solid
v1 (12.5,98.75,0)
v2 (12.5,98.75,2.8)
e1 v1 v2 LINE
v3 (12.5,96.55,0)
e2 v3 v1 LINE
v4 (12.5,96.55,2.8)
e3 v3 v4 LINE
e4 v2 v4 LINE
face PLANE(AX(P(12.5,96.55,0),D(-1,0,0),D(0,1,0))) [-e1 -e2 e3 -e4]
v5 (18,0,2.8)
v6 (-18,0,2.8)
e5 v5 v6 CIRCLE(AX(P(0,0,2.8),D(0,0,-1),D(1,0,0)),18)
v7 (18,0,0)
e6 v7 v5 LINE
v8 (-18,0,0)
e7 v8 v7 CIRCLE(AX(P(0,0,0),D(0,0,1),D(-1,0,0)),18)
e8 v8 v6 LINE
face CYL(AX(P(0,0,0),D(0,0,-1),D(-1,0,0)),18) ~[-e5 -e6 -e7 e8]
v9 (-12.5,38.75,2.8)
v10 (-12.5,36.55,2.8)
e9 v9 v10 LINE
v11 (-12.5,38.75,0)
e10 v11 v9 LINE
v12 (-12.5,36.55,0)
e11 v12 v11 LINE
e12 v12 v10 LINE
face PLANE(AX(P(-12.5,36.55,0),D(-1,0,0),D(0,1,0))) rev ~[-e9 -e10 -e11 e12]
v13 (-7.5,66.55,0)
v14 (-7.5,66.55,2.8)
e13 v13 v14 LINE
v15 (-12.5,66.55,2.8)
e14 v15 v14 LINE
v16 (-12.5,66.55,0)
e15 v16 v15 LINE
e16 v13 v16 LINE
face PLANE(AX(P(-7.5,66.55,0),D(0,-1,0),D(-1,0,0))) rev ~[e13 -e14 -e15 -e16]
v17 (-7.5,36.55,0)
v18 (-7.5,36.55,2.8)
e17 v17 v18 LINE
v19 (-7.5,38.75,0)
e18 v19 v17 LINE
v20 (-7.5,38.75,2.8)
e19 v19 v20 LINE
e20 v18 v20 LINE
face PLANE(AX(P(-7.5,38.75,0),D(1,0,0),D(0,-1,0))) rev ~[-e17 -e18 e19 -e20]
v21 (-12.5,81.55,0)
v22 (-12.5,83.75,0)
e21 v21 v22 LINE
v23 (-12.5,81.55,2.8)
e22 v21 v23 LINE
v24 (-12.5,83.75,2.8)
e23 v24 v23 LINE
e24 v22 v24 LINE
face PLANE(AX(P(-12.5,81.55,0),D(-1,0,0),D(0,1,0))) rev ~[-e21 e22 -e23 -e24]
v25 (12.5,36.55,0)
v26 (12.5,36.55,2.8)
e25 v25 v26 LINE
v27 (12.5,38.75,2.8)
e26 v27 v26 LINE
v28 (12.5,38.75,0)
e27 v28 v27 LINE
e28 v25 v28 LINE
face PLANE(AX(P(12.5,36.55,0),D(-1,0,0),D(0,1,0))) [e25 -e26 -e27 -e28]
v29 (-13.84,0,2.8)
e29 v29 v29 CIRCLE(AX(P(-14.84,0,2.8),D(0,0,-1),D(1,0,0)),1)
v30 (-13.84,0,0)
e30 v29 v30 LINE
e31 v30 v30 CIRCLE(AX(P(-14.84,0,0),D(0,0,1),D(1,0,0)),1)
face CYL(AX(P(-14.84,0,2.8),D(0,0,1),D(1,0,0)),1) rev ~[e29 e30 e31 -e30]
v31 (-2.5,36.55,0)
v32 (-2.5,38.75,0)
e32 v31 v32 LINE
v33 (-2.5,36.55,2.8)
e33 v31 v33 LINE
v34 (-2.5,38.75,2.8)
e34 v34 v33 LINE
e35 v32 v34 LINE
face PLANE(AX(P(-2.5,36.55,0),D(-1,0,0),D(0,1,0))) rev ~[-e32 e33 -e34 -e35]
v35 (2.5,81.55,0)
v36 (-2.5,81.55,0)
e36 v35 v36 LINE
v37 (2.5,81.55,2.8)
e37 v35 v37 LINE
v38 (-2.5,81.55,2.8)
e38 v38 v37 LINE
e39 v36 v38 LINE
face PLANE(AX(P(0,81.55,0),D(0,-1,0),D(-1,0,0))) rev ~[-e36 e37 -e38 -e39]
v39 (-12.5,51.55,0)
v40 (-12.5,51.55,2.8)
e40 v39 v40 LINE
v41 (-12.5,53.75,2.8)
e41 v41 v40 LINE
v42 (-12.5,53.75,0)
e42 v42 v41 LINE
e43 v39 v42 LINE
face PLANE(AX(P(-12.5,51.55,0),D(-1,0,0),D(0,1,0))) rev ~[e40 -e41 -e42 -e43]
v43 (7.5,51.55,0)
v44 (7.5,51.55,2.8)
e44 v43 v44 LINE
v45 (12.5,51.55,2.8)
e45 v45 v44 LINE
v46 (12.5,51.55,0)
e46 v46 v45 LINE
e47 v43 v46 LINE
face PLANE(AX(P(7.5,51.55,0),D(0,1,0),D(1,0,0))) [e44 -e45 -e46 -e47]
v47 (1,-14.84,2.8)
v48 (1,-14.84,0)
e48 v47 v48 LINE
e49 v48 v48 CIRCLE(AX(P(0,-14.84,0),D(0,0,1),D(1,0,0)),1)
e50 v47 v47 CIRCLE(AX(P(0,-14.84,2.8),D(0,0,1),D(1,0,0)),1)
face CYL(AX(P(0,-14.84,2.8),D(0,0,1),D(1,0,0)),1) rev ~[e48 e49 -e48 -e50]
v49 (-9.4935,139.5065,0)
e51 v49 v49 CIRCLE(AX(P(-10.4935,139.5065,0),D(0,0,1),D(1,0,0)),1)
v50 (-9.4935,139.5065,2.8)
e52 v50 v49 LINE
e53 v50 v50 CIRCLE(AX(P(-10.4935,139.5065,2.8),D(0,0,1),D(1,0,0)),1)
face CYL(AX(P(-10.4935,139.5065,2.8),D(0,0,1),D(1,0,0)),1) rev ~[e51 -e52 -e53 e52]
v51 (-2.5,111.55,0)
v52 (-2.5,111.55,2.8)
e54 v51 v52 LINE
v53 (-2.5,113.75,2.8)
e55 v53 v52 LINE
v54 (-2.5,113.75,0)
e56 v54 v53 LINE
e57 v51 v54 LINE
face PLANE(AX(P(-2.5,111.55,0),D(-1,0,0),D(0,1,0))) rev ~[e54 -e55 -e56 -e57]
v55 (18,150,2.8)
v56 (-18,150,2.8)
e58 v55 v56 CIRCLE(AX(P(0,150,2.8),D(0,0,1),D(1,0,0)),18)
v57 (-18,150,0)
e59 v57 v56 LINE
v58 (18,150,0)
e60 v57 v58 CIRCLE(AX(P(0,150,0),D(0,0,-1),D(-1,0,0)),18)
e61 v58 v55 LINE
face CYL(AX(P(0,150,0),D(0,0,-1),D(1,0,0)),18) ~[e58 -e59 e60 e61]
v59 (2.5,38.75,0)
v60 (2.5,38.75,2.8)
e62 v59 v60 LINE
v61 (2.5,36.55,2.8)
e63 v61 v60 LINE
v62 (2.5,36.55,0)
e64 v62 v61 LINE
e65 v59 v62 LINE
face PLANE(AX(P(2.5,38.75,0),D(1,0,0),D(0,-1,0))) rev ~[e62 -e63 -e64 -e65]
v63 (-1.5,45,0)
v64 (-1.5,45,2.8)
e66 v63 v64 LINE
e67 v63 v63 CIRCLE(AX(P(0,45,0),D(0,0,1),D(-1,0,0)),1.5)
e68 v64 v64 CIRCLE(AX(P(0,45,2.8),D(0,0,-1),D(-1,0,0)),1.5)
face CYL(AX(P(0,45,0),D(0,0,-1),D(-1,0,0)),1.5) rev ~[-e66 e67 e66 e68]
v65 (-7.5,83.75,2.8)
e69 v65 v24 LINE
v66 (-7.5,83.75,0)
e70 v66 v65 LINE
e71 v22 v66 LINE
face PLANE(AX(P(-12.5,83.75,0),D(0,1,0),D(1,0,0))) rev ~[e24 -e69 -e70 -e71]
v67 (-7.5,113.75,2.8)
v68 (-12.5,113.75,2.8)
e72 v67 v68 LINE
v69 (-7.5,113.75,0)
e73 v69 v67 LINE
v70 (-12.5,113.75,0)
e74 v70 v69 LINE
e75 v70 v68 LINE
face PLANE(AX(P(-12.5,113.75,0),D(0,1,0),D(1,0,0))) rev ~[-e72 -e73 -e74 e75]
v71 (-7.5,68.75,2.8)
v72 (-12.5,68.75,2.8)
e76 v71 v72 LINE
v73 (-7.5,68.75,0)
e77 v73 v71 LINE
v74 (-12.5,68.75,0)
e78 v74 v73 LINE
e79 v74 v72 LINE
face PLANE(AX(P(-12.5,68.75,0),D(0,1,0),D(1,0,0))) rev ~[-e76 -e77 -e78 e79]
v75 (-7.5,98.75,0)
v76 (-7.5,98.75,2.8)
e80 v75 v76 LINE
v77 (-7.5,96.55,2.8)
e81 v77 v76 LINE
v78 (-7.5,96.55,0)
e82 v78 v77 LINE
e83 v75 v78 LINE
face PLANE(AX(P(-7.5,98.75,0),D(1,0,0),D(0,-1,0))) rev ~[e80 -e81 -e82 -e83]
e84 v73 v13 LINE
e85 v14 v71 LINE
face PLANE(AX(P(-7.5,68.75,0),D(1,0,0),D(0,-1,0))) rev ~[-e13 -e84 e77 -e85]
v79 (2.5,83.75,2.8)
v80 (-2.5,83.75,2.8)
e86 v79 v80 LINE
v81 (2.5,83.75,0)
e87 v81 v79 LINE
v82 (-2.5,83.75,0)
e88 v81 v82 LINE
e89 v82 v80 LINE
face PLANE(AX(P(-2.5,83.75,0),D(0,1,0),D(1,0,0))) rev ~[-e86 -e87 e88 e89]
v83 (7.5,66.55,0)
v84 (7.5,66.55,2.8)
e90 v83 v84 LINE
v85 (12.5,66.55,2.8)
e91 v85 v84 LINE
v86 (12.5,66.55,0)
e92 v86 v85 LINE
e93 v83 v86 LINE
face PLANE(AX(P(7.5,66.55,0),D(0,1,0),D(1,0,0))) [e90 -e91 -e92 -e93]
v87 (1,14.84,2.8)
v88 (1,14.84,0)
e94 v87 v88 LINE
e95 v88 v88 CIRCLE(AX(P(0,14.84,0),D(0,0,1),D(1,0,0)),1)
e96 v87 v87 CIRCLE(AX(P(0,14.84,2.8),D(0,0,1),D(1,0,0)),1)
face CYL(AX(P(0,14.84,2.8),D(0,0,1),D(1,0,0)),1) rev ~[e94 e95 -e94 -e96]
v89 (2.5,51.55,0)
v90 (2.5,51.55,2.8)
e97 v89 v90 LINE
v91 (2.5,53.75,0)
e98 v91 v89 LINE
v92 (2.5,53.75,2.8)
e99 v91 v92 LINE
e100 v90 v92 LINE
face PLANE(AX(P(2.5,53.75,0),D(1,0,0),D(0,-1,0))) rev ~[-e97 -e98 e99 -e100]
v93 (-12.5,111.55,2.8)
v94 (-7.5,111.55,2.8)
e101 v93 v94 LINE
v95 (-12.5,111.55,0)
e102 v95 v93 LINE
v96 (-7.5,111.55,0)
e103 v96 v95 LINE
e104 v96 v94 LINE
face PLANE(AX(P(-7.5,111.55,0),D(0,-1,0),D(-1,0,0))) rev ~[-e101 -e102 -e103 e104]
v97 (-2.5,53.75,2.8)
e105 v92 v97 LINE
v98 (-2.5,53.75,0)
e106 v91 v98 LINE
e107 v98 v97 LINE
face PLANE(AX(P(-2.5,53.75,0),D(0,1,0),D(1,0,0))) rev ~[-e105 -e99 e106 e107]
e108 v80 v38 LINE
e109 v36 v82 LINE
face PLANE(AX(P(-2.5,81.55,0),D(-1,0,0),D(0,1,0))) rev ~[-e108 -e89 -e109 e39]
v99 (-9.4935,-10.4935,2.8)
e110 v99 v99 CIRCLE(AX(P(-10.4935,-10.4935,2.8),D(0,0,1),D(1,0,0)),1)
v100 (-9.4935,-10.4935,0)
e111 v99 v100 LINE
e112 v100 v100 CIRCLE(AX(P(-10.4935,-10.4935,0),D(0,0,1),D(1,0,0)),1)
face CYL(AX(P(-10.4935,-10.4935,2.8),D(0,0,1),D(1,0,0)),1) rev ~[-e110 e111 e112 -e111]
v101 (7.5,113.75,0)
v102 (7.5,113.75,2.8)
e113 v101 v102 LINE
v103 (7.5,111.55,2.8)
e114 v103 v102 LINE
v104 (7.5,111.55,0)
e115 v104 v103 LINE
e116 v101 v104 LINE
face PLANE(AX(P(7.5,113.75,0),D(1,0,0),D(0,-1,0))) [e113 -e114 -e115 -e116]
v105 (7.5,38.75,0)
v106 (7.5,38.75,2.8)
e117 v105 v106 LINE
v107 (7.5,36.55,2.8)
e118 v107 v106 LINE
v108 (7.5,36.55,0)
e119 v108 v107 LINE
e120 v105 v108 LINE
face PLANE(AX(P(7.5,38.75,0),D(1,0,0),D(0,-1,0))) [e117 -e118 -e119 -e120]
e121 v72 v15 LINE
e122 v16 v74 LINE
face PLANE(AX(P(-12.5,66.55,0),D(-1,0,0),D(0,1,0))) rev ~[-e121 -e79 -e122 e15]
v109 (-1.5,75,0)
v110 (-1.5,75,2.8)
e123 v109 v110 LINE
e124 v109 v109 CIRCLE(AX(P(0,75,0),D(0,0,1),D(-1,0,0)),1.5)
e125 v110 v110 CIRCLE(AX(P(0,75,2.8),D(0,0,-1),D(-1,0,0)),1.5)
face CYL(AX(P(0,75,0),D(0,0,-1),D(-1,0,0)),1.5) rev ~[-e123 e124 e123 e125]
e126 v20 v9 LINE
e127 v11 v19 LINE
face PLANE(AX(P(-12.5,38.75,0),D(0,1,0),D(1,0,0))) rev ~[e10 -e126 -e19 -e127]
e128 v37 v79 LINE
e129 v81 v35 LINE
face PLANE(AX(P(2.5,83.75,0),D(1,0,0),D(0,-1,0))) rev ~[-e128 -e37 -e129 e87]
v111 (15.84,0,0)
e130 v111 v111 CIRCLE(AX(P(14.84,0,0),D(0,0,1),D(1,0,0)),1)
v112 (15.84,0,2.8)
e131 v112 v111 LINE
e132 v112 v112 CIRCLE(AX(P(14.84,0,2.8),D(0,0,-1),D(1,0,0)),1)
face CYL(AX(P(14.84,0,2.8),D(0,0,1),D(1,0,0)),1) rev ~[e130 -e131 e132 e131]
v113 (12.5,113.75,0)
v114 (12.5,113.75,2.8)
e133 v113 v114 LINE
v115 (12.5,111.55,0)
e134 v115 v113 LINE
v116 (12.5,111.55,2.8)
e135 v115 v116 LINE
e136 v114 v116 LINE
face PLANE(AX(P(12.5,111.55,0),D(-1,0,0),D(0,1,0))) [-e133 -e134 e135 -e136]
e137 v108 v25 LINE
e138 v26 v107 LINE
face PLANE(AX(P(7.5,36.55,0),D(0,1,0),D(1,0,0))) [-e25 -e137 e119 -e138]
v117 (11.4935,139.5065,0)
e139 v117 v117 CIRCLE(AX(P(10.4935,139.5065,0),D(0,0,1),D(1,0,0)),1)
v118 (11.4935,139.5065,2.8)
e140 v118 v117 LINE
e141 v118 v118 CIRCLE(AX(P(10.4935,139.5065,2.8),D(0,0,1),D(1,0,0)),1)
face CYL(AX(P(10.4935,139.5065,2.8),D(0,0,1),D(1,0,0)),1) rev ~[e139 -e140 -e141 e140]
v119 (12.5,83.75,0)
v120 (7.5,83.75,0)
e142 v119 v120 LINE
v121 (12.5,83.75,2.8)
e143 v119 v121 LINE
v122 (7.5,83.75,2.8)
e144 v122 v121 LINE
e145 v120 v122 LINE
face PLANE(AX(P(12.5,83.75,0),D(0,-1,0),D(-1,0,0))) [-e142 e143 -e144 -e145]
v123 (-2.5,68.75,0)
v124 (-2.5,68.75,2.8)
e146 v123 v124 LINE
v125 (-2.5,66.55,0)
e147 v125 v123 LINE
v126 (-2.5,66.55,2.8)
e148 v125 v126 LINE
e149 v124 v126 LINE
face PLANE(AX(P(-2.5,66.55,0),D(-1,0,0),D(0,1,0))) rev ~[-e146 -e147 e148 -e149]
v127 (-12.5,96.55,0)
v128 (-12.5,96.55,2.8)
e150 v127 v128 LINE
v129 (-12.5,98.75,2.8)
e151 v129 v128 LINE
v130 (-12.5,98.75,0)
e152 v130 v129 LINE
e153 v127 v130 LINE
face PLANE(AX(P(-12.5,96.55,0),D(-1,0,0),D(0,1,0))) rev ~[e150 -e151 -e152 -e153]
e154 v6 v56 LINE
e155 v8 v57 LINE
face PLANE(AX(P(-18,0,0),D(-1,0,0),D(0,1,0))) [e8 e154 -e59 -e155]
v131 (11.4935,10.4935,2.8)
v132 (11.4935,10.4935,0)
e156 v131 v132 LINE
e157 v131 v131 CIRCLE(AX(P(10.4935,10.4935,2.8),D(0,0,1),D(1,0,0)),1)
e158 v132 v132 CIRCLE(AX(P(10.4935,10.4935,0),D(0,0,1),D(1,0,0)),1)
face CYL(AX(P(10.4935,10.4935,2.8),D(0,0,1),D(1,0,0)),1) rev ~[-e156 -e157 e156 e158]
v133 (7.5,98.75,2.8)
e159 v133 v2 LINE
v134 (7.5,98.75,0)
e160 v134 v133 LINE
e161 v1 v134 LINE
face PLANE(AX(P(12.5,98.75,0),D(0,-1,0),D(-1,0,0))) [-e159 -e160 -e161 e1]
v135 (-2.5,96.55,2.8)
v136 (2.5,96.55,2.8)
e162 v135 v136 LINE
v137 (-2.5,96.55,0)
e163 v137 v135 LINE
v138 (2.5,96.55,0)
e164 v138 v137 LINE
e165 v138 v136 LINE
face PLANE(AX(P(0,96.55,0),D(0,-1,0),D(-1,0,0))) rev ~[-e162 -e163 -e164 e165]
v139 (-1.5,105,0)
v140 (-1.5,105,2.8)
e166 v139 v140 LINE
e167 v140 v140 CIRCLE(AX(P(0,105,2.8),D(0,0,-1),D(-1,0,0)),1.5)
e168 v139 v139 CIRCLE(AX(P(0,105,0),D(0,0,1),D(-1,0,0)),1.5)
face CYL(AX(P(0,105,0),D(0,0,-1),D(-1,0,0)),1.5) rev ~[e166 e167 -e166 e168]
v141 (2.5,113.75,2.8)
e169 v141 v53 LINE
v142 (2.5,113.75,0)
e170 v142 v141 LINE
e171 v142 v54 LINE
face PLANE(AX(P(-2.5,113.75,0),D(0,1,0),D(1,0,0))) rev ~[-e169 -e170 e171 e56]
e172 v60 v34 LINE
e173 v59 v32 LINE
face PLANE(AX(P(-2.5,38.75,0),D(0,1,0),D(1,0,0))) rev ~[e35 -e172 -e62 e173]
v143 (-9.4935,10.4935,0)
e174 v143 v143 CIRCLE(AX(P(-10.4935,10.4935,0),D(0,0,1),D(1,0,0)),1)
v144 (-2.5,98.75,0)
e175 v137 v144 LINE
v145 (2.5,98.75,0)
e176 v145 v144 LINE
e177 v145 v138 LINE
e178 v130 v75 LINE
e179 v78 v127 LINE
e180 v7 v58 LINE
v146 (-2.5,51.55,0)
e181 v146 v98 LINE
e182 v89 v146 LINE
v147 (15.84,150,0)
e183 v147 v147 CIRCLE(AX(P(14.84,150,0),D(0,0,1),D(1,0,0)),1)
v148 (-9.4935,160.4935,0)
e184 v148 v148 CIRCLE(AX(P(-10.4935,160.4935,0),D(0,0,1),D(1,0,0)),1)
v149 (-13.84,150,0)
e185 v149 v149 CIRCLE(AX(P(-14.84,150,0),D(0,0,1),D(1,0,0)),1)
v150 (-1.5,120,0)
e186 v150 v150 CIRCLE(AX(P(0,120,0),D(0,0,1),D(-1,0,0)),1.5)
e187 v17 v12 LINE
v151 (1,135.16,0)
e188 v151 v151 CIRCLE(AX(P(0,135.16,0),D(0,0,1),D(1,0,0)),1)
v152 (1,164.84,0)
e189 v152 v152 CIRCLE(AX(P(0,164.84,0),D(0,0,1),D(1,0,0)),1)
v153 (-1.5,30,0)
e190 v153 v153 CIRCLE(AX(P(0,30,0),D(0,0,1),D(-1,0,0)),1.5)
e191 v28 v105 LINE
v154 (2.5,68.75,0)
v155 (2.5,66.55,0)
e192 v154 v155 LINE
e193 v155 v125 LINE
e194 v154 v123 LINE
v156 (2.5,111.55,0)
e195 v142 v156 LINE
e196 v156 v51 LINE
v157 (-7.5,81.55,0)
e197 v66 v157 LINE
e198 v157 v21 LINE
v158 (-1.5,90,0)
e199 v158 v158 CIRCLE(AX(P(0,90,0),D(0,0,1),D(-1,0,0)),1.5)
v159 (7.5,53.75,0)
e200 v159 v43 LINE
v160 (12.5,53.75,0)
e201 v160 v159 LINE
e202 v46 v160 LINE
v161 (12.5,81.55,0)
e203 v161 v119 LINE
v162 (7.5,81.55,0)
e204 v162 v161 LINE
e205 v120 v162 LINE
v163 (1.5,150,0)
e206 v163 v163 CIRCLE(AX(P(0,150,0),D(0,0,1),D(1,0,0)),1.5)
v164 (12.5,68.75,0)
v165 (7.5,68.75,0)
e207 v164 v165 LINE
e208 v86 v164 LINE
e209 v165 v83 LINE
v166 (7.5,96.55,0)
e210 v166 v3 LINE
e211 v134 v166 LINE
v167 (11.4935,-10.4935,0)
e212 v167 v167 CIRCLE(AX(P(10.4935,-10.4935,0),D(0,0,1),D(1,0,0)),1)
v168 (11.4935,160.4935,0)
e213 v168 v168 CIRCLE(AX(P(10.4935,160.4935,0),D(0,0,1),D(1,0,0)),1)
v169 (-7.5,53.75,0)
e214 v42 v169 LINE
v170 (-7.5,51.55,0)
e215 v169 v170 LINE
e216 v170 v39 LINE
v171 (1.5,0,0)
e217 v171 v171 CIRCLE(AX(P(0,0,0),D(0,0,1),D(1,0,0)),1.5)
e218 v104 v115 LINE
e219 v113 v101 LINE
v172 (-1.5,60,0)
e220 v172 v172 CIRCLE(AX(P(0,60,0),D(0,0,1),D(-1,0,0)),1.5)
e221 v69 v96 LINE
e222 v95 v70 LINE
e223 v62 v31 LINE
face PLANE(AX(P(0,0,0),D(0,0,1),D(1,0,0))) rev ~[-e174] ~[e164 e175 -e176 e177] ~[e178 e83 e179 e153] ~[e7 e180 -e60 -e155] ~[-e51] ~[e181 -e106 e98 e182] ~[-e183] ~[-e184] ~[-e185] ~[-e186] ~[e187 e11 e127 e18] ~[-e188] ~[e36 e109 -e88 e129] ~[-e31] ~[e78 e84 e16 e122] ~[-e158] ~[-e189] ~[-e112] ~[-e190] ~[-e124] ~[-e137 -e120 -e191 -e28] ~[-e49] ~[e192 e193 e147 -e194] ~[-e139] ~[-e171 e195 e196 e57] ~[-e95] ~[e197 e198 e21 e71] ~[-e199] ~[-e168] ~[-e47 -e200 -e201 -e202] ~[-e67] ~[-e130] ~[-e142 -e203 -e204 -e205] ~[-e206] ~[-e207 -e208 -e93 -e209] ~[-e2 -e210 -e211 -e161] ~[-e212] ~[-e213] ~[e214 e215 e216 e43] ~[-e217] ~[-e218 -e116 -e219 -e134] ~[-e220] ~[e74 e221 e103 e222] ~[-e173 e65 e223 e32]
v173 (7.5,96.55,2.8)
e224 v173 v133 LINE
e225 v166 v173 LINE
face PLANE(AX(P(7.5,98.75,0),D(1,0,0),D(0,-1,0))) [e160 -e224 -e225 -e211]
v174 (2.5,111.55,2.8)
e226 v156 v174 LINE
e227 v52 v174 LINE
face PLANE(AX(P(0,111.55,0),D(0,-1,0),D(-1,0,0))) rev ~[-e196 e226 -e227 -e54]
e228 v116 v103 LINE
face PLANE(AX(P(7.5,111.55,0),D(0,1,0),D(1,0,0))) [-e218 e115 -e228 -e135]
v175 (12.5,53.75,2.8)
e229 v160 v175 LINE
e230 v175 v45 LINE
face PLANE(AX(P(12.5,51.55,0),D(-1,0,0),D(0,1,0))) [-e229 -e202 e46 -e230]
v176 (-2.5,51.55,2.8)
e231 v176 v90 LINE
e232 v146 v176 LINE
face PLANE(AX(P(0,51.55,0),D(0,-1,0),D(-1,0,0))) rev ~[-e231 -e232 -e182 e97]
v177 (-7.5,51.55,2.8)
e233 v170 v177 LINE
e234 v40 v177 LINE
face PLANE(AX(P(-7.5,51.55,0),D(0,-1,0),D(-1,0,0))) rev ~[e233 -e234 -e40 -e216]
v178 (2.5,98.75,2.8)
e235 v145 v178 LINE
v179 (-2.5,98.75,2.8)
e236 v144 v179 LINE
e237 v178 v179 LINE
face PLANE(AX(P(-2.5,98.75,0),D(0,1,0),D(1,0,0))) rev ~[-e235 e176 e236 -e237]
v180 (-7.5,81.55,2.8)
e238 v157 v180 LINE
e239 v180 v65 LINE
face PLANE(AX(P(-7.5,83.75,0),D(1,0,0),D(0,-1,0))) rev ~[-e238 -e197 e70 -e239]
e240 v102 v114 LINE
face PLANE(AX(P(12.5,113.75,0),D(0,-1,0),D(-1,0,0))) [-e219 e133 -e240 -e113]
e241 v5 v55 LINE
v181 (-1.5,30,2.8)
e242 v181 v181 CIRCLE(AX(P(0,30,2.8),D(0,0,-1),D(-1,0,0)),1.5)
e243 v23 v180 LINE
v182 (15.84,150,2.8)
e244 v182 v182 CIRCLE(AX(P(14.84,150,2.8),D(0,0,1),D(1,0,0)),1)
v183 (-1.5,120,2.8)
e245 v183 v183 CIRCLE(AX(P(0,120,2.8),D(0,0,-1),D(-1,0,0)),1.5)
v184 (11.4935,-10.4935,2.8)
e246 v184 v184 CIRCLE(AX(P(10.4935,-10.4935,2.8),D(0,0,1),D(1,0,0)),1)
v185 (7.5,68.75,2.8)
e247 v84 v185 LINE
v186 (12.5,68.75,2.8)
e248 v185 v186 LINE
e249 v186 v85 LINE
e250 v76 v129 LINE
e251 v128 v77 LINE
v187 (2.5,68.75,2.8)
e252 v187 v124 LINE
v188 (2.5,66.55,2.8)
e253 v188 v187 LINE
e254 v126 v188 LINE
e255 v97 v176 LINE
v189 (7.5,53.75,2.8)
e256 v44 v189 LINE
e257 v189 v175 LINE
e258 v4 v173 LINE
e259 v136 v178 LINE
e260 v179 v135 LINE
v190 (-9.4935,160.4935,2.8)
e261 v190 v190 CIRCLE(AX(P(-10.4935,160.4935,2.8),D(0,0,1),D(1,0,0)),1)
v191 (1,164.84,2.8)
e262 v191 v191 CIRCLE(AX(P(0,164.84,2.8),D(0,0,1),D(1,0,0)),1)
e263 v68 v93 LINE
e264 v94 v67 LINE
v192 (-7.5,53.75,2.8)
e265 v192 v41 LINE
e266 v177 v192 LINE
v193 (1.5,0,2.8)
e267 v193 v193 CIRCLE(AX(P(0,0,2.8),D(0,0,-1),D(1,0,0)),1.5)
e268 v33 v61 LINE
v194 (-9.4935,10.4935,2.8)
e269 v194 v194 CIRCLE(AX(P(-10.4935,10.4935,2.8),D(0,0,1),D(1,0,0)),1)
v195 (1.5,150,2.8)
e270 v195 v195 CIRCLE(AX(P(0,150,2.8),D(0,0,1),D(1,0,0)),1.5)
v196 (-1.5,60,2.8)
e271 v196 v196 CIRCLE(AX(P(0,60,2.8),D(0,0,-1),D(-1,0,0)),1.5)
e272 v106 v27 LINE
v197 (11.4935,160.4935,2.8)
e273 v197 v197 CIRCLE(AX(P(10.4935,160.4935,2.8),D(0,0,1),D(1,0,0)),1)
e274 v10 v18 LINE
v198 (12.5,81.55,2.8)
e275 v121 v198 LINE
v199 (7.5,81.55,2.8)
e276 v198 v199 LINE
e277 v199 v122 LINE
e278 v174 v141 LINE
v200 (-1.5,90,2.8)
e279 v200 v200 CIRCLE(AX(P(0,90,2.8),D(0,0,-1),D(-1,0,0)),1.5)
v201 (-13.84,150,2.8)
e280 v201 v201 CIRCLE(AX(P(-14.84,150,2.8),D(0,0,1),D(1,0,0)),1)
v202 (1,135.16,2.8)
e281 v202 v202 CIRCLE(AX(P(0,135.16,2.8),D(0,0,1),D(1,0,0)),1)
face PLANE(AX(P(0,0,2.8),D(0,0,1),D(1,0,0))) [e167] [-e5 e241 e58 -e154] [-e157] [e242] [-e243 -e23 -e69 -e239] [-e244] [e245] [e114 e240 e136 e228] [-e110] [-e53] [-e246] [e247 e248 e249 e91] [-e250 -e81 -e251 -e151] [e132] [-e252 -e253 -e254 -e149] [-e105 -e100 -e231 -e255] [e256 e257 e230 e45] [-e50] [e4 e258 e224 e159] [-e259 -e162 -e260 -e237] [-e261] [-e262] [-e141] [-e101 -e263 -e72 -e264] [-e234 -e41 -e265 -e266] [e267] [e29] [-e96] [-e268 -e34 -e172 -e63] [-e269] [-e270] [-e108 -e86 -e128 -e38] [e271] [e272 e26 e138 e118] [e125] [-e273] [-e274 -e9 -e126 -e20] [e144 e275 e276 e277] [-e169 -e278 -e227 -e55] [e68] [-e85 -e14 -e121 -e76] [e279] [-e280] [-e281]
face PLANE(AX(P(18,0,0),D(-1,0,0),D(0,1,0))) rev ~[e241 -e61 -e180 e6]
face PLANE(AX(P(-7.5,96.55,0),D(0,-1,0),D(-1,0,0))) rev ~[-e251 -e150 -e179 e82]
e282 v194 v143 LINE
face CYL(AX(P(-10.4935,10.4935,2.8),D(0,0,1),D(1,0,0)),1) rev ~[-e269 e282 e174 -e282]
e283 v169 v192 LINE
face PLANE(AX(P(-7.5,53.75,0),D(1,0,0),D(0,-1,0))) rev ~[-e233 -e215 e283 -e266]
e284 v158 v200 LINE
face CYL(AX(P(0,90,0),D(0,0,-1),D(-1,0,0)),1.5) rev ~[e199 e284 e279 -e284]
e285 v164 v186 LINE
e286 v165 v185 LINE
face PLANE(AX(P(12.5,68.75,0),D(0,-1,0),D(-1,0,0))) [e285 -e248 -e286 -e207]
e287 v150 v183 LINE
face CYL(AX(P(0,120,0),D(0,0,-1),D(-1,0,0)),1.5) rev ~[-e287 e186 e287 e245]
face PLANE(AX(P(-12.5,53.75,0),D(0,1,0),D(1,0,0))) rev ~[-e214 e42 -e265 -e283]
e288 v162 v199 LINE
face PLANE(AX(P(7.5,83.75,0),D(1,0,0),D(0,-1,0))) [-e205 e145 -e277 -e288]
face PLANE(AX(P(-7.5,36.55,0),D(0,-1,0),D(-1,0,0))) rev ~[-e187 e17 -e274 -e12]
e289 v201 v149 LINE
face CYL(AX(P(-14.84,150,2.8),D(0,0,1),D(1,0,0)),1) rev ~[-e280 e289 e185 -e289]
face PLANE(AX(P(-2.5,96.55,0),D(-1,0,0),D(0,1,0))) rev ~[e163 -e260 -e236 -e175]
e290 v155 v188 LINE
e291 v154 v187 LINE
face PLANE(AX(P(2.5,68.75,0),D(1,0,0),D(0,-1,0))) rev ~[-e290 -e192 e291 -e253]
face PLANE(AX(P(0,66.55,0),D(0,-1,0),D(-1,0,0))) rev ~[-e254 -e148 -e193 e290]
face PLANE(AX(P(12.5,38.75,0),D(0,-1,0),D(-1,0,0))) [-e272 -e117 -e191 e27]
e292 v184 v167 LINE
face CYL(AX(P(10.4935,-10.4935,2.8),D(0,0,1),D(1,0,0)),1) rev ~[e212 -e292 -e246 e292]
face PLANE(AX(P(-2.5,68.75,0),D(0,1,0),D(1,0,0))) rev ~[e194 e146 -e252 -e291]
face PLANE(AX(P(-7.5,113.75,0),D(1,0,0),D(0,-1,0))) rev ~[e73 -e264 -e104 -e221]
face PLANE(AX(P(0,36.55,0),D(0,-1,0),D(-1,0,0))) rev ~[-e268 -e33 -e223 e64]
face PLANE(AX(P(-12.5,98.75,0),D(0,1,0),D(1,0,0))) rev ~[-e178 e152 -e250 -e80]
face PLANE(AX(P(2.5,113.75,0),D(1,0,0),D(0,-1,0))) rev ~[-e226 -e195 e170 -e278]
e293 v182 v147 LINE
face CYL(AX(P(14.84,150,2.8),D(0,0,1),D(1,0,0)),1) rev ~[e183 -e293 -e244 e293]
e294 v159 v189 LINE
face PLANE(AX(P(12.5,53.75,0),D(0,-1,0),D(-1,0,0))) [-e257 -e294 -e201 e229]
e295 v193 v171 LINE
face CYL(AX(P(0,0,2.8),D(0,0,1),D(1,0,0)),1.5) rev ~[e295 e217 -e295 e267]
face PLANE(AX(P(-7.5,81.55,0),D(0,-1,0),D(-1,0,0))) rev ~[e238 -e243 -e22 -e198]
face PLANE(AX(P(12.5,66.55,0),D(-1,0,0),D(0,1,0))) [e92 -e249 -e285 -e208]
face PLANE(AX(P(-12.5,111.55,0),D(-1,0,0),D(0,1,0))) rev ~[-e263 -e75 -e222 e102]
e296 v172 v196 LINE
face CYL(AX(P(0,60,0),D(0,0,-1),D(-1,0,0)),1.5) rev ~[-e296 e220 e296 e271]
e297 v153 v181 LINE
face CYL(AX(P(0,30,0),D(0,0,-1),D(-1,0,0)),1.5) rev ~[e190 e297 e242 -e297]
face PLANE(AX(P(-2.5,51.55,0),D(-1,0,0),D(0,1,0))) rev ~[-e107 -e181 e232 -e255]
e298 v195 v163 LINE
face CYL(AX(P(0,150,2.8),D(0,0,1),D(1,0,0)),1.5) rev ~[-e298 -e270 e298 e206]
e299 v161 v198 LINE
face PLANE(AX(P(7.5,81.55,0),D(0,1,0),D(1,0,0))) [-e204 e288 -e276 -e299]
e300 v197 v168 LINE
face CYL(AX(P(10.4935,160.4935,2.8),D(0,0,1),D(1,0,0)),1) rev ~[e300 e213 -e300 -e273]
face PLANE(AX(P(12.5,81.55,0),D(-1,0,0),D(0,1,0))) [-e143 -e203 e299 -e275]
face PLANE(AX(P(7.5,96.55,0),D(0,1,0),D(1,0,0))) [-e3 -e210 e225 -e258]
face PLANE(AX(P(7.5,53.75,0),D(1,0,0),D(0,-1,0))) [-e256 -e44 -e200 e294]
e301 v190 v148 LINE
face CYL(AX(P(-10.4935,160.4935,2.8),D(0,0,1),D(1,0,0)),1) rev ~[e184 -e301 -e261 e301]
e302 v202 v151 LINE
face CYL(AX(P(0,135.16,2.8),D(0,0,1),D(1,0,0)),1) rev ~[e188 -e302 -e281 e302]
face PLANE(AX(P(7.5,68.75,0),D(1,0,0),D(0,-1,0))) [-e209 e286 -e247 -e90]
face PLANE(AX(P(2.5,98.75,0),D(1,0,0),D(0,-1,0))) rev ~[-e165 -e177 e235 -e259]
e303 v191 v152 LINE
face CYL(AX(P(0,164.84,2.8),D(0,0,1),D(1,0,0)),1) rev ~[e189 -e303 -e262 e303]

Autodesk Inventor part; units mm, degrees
ref_plane "YZ Plane" through (0, 0, 0) normal (1, 0, 0) x (0, 1, 0)
ref_plane "XZ Plane" through (0, 0, 0) normal (0, 1, 0) x (-1, 0, 0)
ref_plane "XY Plane" through (0, 0, 0) normal (0, 0, 1) x (1, 0, 0)
sketch "Sketch1" plane through (0, 0, 0) normal (0, 0, 1) x (1, 0, 0)
  arc A0 (-18, 0) -> (18, 0) centre (0, 0) ccw
  line L0 (-18, 0) -> (-18, 150)
  line L1 (18, 0) -> (18, 150)
  arc A1 (18, 150) -> (-18, 150) centre (0, 150) ccw
  line L2 (-25.2, 0) -> (25.2, 0) projected
  line L3 (0, -55.2) -> (0, 205.2) projected
  circle A2 centre (0, 164.84) radius 1
  circle A3 centre (-10.4935, 160.4935) radius 1
  circle A4 centre (-14.84, 150) radius 1
  circle A5 centre (-10.4935, 139.5065) radius 1
  circle A6 centre (0, 135.16) radius 1
  circle A7 centre (10.4935, 139.5065) radius 1
  circle A8 centre (14.84, 150) radius 1
  circle A9 centre (10.4935, 160.4935) radius 1
  circle A10 centre (0, 14.84) radius 1
  circle A11 centre (-10.4935, 10.4935) radius 1
  circle A12 centre (-14.84, 0) radius 1
  circle A13 centre (-10.4935, -10.4935) radius 1
  circle A14 centre (0, -14.84) radius 1
  circle A15 centre (10.4935, -10.4935) radius 1
  circle A16 centre (14.84, 0) radius 1
  circle A17 centre (10.4935, 10.4935) radius 1
  circle A18 centre (0, 150) radius 1.5
  circle A19 centre (0, 0) radius 1.5
  dimension "d0" = 36
  dimension "d1" = 150
  dimension "d2" = 150
  dimension "d3" = 150
  dimension "d5" = 2
  dimension "d6" = 14.84
  dimension "d9" = 360
  dimension "d11" = 2
  dimension "d12" = 14.84
  dimension "d15" = 360
  dimension "d17" = 3
  dimension "d20" = 3
extrude "Extrusion1" add sketch "Sketch1" along normal blind 2.8 contours L2 A12 A19 L3 A14 A0 | L0 A1 L3 A2 A18 A6 A10 A19 L2 A12 | L3 A14 A19 L2 A16 A0 | A12 L2 | L2 A12 | L2 A16 A19 L3 A10 A6 A18 A2 A1 L1 | A14 L3 | L3 A14 | A16 L2 | L2 A16 | A2 L3 | L3 A2 | A19 L3 L2 | L2 L3 A19 | L3 L2 A19 | L3 A19 L2 | A18 L3 | L3 A18 | A10 L3 | L3 A10 | A6 L3 | L3 A6 | A3 | A4 | A5 | A7 | A8 | A9 | A11 | A13 | A15 | A17
sketch "Sketch2" plane through (0, 0, 2.8) normal (0, 0, 1) x (1, 0, 0)
  arc A0 (-18, 0) -> (18, 0) centre (0, 0) ccw
  line L0 (-18, 0) -> (-18, 150)
  line L1 (18, 0) -> (18, 150)
  arc A1 (18, 150) -> (-18, 150) centre (0, 150) ccw
  line L2 (-25.2, 0) -> (25.2, 0)
  circle A2 centre (0, 164.84) radius 1
  circle A3 centre (-10.4935, 160.4935) radius 1
  circle A4 centre (-14.84, 150) radius 1
  circle A5 centre (-10.4935, 139.5065) radius 1
  circle A6 centre (0, 135.16) radius 1
  circle A7 centre (10.4935, 139.5065) radius 1
  circle A8 centre (14.84, 150) radius 1
  circle A9 centre (10.4935, 160.4935) radius 1
  circle A10 centre (0, 14.84) radius 1
  circle A11 centre (-10.4935, 10.4935) radius 1
  circle A12 centre (-14.84, 0) radius 1
  circle A13 centre (-10.4935, -10.4935) radius 1
  circle A14 centre (0, -14.84) radius 1
  circle A15 centre (10.4935, -10.4935) radius 1
  circle A16 centre (14.84, 0) radius 1
  circle A17 centre (10.4935, 10.4935) radius 1
  circle A18 centre (0, 150) radius 1.5
  circle A19 centre (0, 0) radius 1.5
  dimension "d25" = 36
  dimension "d26" = 150
  dimension "d27" = 150
  dimension "d28" = 150
  dimension "d29" = 2
  dimension "d30" = 14.84
  dimension "d31" = 360
  dimension "d32" = 2
  dimension "d33" = 14.84
  dimension "d34" = 360
  dimension "d35" = 3
  dimension "d36" = 3
extrude "Extrusion2" cut sketch "Sketch2" against normal blind 3.2 contours A12 L2 | L2 A12 | A16 L2 | L2 A16 | A19 L2 | L2 A19 | A2 | A3 | A4 | A5 | A6 | A7 | A8 | A9 | A10 | A11 | A13 | A14 | A15 | A17 | A18
sketch "Sketch3" plane through (0, 0, 0) normal (0, 0, -1) x (-1, 0, 0)
  circle A0 centre (0, 150) radius 1.5 projected
  line L0 (18, 150) -> (18, 0) projected
  circle A1 centre (0, 120) radius 1.5
  circle A2 centre (0, 105) radius 1.5
  circle A3 centre (0, 90) radius 1.5
  circle A4 centre (0, 75) radius 1.5
  circle A5 centre (0, 60) radius 1.5
  circle A6 centre (0, 45) radius 1.5
  circle A7 centre (0, 30) radius 1.5
  circle A8 centre (0, 135.16) radius 1 projected
  circle A9 centre (0, 14.84) radius 1 projected
  line L1 (-18, 0) -> (-18, 150) projected
  line L2 (0, 14.84) -> (0, 135.16)
  line L3 (-2.5, 38.75) -> (-2.5, 36.55)
  line L4 (-2.5, 36.55) -> (2.5, 36.55)
  line L5 (2.5, 36.55) -> (2.5, 38.75)
  line L6 (2.5, 38.75) -> (-2.5, 38.75)
  line L7 (0, 26) -> (4.3225, 26)
  line L8 (-2.5, 53.75) -> (-2.5, 51.55)
  line L9 (-2.5, 51.55) -> (2.5, 51.55)
  line L10 (2.5, 51.55) -> (2.5, 53.75)
  line L11 (2.5, 53.75) -> (-2.5, 53.75)
  line L12 (-2.5, 68.75) -> (-2.5, 66.55)
  line L13 (-2.5, 66.55) -> (2.5, 66.55)
  line L14 (2.5, 66.55) -> (2.5, 68.75)
  line L15 (2.5, 68.75) -> (-2.5, 68.75)
  line L16 (-2.5, 83.75) -> (-2.5, 81.55)
  line L17 (-2.5, 81.55) -> (2.5, 81.55)
  line L18 (2.5, 81.55) -> (2.5, 83.75)
  line L19 (2.5, 83.75) -> (-2.5, 83.75)
  line L20 (-2.5, 98.75) -> (-2.5, 96.55)
  line L21 (-2.5, 96.55) -> (2.5, 96.55)
  line L22 (2.5, 96.55) -> (2.5, 98.75)
  line L23 (2.5, 98.75) -> (-2.5, 98.75)
  line L24 (-2.5, 113.75) -> (-2.5, 111.55)
  line L25 (-2.5, 111.55) -> (2.5, 111.55)
  line L26 (2.5, 111.55) -> (2.5, 113.75)
  line L27 (2.5, 113.75) -> (-2.5, 113.75)
  line L28 (7.5, 38.75) -> (7.5, 36.55)
  line L29 (7.5, 36.55) -> (12.5, 36.55)
  line L30 (12.5, 36.55) -> (12.5, 38.75)
  line L31 (12.5, 38.75) -> (7.5, 38.75)
  line L32 (7.5, 53.75) -> (7.5, 51.55)
  line L33 (7.5, 51.55) -> (12.5, 51.55)
  line L34 (12.5, 51.55) -> (12.5, 53.75)
  line L35 (12.5, 53.75) -> (7.5, 53.75)
  line L36 (7.5, 68.75) -> (7.5, 66.55)
  line L37 (7.5, 66.55) -> (12.5, 66.55)
  line L38 (12.5, 66.55) -> (12.5, 68.75)
  line L39 (12.5, 68.75) -> (7.5, 68.75)
  line L40 (7.5, 83.75) -> (7.5, 81.55)
  line L41 (7.5, 81.55) -> (12.5, 81.55)
  line L42 (12.5, 81.55) -> (12.5, 83.75)
  line L43 (12.5, 83.75) -> (7.5, 83.75)
  line L44 (7.5, 98.75) -> (7.5, 96.55)
  line L45 (7.5, 96.55) -> (12.5, 96.55)
  line L46 (12.5, 96.55) -> (12.5, 98.75)
  line L47 (12.5, 98.75) -> (7.5, 98.75)
  line L48 (7.5, 113.75) -> (7.5, 111.55)
  line L49 (7.5, 111.55) -> (12.5, 111.55)
  line L50 (12.5, 111.55) -> (12.5, 113.75)
  line L51 (12.5, 113.75) -> (7.5, 113.75)
  line L52 (-7.5, 38.75) -> (-7.5, 36.55)
  line L53 (-12.5, 38.75) -> (-7.5, 38.75)
  line L54 (-7.5, 36.55) -> (-12.5, 36.55)
  line L55 (-12.5, 36.55) -> (-12.5, 38.75)
  line L56 (-7.5, 53.75) -> (-7.5, 51.55)
  line L57 (-12.5, 53.75) -> (-7.5, 53.75)
  line L58 (-7.5, 51.55) -> (-12.5, 51.55)
  line L59 (-12.5, 51.55) -> (-12.5, 53.75)
  line L60 (-7.5, 68.75) -> (-7.5, 66.55)
  line L61 (-12.5, 68.75) -> (-7.5, 68.75)
  line L62 (-7.5, 66.55) -> (-12.5, 66.55)
  line L63 (-12.5, 66.55) -> (-12.5, 68.75)
  line L64 (-7.5, 83.75) -> (-7.5, 81.55)
  line L65 (-12.5, 83.75) -> (-7.5, 83.75)
  line L66 (-7.5, 81.55) -> (-12.5, 81.55)
  line L67 (-12.5, 81.55) -> (-12.5, 83.75)
  line L68 (-7.5, 98.75) -> (-7.5, 96.55)
  line L69 (-12.5, 98.75) -> (-7.5, 98.75)
  line L70 (-7.5, 96.55) -> (-12.5, 96.55)
  line L71 (-12.5, 96.55) -> (-12.5, 98.75)
  line L72 (-7.5, 113.75) -> (-7.5, 111.55)
  line L73 (-12.5, 113.75) -> (-7.5, 113.75)
  line L74 (-7.5, 111.55) -> (-12.5, 111.55)
  line L75 (-12.5, 111.55) -> (-12.5, 113.75)
  dimension "d39" = 3
  dimension "d40" = 30
  dimension "d43" = 15
  dimension "d50" = 5
  dimension "d51" = 2.2
  dimension "d52" = 2.5
  dimension "d53" = 6.25
  dimension "d56" = 15
  dimension "d59" = 10
extrude "Extrusion3" cut sketch "Sketch3" against normal blind 10 contours A1 L2 | A7 L2 | L2 A7 | L6 L5 L4 L2 | L2 L4 L3 L6 | A6 L2 | L2 A6 | L11 L10 L9 L2 | L2 L9 L8 L11 | A5 L2 | L2 A5 | L15 L14 L13 L2 | L2 L13 L12 L15 | A4 L2 | L2 A4 | L19 L18 L17 L2 | L2 L17 L16 L19 | A3 L2 | L2 A3 | L23 L22 L21 L2 | L2 L21 L20 L23 | A2 L2 | L2 A2 | L27 L26 L25 L2 | L2 L25 L24 L27 | L2 A1 | L31 L30 L29 L28 | L35 L34 L33 L32 | L39 L38 L37 L36 | L43 L42 L41 L40 | L47 L46 L45 L44 | L51 L50 L49 L48 | L52 L54 L55 L53 | L56 L58 L59 L57 | L60 L62 L63 L61 | L64 L66 L67 L65 | L68 L70 L71 L69 | L72 L74 L75 L73
equation "\"d2\" = d1"
equation "\"d3\" = d1"
equation "\"d27\" = d26"
equation "\"d28\" = d26"
properties part number "LowerArm_Support"
